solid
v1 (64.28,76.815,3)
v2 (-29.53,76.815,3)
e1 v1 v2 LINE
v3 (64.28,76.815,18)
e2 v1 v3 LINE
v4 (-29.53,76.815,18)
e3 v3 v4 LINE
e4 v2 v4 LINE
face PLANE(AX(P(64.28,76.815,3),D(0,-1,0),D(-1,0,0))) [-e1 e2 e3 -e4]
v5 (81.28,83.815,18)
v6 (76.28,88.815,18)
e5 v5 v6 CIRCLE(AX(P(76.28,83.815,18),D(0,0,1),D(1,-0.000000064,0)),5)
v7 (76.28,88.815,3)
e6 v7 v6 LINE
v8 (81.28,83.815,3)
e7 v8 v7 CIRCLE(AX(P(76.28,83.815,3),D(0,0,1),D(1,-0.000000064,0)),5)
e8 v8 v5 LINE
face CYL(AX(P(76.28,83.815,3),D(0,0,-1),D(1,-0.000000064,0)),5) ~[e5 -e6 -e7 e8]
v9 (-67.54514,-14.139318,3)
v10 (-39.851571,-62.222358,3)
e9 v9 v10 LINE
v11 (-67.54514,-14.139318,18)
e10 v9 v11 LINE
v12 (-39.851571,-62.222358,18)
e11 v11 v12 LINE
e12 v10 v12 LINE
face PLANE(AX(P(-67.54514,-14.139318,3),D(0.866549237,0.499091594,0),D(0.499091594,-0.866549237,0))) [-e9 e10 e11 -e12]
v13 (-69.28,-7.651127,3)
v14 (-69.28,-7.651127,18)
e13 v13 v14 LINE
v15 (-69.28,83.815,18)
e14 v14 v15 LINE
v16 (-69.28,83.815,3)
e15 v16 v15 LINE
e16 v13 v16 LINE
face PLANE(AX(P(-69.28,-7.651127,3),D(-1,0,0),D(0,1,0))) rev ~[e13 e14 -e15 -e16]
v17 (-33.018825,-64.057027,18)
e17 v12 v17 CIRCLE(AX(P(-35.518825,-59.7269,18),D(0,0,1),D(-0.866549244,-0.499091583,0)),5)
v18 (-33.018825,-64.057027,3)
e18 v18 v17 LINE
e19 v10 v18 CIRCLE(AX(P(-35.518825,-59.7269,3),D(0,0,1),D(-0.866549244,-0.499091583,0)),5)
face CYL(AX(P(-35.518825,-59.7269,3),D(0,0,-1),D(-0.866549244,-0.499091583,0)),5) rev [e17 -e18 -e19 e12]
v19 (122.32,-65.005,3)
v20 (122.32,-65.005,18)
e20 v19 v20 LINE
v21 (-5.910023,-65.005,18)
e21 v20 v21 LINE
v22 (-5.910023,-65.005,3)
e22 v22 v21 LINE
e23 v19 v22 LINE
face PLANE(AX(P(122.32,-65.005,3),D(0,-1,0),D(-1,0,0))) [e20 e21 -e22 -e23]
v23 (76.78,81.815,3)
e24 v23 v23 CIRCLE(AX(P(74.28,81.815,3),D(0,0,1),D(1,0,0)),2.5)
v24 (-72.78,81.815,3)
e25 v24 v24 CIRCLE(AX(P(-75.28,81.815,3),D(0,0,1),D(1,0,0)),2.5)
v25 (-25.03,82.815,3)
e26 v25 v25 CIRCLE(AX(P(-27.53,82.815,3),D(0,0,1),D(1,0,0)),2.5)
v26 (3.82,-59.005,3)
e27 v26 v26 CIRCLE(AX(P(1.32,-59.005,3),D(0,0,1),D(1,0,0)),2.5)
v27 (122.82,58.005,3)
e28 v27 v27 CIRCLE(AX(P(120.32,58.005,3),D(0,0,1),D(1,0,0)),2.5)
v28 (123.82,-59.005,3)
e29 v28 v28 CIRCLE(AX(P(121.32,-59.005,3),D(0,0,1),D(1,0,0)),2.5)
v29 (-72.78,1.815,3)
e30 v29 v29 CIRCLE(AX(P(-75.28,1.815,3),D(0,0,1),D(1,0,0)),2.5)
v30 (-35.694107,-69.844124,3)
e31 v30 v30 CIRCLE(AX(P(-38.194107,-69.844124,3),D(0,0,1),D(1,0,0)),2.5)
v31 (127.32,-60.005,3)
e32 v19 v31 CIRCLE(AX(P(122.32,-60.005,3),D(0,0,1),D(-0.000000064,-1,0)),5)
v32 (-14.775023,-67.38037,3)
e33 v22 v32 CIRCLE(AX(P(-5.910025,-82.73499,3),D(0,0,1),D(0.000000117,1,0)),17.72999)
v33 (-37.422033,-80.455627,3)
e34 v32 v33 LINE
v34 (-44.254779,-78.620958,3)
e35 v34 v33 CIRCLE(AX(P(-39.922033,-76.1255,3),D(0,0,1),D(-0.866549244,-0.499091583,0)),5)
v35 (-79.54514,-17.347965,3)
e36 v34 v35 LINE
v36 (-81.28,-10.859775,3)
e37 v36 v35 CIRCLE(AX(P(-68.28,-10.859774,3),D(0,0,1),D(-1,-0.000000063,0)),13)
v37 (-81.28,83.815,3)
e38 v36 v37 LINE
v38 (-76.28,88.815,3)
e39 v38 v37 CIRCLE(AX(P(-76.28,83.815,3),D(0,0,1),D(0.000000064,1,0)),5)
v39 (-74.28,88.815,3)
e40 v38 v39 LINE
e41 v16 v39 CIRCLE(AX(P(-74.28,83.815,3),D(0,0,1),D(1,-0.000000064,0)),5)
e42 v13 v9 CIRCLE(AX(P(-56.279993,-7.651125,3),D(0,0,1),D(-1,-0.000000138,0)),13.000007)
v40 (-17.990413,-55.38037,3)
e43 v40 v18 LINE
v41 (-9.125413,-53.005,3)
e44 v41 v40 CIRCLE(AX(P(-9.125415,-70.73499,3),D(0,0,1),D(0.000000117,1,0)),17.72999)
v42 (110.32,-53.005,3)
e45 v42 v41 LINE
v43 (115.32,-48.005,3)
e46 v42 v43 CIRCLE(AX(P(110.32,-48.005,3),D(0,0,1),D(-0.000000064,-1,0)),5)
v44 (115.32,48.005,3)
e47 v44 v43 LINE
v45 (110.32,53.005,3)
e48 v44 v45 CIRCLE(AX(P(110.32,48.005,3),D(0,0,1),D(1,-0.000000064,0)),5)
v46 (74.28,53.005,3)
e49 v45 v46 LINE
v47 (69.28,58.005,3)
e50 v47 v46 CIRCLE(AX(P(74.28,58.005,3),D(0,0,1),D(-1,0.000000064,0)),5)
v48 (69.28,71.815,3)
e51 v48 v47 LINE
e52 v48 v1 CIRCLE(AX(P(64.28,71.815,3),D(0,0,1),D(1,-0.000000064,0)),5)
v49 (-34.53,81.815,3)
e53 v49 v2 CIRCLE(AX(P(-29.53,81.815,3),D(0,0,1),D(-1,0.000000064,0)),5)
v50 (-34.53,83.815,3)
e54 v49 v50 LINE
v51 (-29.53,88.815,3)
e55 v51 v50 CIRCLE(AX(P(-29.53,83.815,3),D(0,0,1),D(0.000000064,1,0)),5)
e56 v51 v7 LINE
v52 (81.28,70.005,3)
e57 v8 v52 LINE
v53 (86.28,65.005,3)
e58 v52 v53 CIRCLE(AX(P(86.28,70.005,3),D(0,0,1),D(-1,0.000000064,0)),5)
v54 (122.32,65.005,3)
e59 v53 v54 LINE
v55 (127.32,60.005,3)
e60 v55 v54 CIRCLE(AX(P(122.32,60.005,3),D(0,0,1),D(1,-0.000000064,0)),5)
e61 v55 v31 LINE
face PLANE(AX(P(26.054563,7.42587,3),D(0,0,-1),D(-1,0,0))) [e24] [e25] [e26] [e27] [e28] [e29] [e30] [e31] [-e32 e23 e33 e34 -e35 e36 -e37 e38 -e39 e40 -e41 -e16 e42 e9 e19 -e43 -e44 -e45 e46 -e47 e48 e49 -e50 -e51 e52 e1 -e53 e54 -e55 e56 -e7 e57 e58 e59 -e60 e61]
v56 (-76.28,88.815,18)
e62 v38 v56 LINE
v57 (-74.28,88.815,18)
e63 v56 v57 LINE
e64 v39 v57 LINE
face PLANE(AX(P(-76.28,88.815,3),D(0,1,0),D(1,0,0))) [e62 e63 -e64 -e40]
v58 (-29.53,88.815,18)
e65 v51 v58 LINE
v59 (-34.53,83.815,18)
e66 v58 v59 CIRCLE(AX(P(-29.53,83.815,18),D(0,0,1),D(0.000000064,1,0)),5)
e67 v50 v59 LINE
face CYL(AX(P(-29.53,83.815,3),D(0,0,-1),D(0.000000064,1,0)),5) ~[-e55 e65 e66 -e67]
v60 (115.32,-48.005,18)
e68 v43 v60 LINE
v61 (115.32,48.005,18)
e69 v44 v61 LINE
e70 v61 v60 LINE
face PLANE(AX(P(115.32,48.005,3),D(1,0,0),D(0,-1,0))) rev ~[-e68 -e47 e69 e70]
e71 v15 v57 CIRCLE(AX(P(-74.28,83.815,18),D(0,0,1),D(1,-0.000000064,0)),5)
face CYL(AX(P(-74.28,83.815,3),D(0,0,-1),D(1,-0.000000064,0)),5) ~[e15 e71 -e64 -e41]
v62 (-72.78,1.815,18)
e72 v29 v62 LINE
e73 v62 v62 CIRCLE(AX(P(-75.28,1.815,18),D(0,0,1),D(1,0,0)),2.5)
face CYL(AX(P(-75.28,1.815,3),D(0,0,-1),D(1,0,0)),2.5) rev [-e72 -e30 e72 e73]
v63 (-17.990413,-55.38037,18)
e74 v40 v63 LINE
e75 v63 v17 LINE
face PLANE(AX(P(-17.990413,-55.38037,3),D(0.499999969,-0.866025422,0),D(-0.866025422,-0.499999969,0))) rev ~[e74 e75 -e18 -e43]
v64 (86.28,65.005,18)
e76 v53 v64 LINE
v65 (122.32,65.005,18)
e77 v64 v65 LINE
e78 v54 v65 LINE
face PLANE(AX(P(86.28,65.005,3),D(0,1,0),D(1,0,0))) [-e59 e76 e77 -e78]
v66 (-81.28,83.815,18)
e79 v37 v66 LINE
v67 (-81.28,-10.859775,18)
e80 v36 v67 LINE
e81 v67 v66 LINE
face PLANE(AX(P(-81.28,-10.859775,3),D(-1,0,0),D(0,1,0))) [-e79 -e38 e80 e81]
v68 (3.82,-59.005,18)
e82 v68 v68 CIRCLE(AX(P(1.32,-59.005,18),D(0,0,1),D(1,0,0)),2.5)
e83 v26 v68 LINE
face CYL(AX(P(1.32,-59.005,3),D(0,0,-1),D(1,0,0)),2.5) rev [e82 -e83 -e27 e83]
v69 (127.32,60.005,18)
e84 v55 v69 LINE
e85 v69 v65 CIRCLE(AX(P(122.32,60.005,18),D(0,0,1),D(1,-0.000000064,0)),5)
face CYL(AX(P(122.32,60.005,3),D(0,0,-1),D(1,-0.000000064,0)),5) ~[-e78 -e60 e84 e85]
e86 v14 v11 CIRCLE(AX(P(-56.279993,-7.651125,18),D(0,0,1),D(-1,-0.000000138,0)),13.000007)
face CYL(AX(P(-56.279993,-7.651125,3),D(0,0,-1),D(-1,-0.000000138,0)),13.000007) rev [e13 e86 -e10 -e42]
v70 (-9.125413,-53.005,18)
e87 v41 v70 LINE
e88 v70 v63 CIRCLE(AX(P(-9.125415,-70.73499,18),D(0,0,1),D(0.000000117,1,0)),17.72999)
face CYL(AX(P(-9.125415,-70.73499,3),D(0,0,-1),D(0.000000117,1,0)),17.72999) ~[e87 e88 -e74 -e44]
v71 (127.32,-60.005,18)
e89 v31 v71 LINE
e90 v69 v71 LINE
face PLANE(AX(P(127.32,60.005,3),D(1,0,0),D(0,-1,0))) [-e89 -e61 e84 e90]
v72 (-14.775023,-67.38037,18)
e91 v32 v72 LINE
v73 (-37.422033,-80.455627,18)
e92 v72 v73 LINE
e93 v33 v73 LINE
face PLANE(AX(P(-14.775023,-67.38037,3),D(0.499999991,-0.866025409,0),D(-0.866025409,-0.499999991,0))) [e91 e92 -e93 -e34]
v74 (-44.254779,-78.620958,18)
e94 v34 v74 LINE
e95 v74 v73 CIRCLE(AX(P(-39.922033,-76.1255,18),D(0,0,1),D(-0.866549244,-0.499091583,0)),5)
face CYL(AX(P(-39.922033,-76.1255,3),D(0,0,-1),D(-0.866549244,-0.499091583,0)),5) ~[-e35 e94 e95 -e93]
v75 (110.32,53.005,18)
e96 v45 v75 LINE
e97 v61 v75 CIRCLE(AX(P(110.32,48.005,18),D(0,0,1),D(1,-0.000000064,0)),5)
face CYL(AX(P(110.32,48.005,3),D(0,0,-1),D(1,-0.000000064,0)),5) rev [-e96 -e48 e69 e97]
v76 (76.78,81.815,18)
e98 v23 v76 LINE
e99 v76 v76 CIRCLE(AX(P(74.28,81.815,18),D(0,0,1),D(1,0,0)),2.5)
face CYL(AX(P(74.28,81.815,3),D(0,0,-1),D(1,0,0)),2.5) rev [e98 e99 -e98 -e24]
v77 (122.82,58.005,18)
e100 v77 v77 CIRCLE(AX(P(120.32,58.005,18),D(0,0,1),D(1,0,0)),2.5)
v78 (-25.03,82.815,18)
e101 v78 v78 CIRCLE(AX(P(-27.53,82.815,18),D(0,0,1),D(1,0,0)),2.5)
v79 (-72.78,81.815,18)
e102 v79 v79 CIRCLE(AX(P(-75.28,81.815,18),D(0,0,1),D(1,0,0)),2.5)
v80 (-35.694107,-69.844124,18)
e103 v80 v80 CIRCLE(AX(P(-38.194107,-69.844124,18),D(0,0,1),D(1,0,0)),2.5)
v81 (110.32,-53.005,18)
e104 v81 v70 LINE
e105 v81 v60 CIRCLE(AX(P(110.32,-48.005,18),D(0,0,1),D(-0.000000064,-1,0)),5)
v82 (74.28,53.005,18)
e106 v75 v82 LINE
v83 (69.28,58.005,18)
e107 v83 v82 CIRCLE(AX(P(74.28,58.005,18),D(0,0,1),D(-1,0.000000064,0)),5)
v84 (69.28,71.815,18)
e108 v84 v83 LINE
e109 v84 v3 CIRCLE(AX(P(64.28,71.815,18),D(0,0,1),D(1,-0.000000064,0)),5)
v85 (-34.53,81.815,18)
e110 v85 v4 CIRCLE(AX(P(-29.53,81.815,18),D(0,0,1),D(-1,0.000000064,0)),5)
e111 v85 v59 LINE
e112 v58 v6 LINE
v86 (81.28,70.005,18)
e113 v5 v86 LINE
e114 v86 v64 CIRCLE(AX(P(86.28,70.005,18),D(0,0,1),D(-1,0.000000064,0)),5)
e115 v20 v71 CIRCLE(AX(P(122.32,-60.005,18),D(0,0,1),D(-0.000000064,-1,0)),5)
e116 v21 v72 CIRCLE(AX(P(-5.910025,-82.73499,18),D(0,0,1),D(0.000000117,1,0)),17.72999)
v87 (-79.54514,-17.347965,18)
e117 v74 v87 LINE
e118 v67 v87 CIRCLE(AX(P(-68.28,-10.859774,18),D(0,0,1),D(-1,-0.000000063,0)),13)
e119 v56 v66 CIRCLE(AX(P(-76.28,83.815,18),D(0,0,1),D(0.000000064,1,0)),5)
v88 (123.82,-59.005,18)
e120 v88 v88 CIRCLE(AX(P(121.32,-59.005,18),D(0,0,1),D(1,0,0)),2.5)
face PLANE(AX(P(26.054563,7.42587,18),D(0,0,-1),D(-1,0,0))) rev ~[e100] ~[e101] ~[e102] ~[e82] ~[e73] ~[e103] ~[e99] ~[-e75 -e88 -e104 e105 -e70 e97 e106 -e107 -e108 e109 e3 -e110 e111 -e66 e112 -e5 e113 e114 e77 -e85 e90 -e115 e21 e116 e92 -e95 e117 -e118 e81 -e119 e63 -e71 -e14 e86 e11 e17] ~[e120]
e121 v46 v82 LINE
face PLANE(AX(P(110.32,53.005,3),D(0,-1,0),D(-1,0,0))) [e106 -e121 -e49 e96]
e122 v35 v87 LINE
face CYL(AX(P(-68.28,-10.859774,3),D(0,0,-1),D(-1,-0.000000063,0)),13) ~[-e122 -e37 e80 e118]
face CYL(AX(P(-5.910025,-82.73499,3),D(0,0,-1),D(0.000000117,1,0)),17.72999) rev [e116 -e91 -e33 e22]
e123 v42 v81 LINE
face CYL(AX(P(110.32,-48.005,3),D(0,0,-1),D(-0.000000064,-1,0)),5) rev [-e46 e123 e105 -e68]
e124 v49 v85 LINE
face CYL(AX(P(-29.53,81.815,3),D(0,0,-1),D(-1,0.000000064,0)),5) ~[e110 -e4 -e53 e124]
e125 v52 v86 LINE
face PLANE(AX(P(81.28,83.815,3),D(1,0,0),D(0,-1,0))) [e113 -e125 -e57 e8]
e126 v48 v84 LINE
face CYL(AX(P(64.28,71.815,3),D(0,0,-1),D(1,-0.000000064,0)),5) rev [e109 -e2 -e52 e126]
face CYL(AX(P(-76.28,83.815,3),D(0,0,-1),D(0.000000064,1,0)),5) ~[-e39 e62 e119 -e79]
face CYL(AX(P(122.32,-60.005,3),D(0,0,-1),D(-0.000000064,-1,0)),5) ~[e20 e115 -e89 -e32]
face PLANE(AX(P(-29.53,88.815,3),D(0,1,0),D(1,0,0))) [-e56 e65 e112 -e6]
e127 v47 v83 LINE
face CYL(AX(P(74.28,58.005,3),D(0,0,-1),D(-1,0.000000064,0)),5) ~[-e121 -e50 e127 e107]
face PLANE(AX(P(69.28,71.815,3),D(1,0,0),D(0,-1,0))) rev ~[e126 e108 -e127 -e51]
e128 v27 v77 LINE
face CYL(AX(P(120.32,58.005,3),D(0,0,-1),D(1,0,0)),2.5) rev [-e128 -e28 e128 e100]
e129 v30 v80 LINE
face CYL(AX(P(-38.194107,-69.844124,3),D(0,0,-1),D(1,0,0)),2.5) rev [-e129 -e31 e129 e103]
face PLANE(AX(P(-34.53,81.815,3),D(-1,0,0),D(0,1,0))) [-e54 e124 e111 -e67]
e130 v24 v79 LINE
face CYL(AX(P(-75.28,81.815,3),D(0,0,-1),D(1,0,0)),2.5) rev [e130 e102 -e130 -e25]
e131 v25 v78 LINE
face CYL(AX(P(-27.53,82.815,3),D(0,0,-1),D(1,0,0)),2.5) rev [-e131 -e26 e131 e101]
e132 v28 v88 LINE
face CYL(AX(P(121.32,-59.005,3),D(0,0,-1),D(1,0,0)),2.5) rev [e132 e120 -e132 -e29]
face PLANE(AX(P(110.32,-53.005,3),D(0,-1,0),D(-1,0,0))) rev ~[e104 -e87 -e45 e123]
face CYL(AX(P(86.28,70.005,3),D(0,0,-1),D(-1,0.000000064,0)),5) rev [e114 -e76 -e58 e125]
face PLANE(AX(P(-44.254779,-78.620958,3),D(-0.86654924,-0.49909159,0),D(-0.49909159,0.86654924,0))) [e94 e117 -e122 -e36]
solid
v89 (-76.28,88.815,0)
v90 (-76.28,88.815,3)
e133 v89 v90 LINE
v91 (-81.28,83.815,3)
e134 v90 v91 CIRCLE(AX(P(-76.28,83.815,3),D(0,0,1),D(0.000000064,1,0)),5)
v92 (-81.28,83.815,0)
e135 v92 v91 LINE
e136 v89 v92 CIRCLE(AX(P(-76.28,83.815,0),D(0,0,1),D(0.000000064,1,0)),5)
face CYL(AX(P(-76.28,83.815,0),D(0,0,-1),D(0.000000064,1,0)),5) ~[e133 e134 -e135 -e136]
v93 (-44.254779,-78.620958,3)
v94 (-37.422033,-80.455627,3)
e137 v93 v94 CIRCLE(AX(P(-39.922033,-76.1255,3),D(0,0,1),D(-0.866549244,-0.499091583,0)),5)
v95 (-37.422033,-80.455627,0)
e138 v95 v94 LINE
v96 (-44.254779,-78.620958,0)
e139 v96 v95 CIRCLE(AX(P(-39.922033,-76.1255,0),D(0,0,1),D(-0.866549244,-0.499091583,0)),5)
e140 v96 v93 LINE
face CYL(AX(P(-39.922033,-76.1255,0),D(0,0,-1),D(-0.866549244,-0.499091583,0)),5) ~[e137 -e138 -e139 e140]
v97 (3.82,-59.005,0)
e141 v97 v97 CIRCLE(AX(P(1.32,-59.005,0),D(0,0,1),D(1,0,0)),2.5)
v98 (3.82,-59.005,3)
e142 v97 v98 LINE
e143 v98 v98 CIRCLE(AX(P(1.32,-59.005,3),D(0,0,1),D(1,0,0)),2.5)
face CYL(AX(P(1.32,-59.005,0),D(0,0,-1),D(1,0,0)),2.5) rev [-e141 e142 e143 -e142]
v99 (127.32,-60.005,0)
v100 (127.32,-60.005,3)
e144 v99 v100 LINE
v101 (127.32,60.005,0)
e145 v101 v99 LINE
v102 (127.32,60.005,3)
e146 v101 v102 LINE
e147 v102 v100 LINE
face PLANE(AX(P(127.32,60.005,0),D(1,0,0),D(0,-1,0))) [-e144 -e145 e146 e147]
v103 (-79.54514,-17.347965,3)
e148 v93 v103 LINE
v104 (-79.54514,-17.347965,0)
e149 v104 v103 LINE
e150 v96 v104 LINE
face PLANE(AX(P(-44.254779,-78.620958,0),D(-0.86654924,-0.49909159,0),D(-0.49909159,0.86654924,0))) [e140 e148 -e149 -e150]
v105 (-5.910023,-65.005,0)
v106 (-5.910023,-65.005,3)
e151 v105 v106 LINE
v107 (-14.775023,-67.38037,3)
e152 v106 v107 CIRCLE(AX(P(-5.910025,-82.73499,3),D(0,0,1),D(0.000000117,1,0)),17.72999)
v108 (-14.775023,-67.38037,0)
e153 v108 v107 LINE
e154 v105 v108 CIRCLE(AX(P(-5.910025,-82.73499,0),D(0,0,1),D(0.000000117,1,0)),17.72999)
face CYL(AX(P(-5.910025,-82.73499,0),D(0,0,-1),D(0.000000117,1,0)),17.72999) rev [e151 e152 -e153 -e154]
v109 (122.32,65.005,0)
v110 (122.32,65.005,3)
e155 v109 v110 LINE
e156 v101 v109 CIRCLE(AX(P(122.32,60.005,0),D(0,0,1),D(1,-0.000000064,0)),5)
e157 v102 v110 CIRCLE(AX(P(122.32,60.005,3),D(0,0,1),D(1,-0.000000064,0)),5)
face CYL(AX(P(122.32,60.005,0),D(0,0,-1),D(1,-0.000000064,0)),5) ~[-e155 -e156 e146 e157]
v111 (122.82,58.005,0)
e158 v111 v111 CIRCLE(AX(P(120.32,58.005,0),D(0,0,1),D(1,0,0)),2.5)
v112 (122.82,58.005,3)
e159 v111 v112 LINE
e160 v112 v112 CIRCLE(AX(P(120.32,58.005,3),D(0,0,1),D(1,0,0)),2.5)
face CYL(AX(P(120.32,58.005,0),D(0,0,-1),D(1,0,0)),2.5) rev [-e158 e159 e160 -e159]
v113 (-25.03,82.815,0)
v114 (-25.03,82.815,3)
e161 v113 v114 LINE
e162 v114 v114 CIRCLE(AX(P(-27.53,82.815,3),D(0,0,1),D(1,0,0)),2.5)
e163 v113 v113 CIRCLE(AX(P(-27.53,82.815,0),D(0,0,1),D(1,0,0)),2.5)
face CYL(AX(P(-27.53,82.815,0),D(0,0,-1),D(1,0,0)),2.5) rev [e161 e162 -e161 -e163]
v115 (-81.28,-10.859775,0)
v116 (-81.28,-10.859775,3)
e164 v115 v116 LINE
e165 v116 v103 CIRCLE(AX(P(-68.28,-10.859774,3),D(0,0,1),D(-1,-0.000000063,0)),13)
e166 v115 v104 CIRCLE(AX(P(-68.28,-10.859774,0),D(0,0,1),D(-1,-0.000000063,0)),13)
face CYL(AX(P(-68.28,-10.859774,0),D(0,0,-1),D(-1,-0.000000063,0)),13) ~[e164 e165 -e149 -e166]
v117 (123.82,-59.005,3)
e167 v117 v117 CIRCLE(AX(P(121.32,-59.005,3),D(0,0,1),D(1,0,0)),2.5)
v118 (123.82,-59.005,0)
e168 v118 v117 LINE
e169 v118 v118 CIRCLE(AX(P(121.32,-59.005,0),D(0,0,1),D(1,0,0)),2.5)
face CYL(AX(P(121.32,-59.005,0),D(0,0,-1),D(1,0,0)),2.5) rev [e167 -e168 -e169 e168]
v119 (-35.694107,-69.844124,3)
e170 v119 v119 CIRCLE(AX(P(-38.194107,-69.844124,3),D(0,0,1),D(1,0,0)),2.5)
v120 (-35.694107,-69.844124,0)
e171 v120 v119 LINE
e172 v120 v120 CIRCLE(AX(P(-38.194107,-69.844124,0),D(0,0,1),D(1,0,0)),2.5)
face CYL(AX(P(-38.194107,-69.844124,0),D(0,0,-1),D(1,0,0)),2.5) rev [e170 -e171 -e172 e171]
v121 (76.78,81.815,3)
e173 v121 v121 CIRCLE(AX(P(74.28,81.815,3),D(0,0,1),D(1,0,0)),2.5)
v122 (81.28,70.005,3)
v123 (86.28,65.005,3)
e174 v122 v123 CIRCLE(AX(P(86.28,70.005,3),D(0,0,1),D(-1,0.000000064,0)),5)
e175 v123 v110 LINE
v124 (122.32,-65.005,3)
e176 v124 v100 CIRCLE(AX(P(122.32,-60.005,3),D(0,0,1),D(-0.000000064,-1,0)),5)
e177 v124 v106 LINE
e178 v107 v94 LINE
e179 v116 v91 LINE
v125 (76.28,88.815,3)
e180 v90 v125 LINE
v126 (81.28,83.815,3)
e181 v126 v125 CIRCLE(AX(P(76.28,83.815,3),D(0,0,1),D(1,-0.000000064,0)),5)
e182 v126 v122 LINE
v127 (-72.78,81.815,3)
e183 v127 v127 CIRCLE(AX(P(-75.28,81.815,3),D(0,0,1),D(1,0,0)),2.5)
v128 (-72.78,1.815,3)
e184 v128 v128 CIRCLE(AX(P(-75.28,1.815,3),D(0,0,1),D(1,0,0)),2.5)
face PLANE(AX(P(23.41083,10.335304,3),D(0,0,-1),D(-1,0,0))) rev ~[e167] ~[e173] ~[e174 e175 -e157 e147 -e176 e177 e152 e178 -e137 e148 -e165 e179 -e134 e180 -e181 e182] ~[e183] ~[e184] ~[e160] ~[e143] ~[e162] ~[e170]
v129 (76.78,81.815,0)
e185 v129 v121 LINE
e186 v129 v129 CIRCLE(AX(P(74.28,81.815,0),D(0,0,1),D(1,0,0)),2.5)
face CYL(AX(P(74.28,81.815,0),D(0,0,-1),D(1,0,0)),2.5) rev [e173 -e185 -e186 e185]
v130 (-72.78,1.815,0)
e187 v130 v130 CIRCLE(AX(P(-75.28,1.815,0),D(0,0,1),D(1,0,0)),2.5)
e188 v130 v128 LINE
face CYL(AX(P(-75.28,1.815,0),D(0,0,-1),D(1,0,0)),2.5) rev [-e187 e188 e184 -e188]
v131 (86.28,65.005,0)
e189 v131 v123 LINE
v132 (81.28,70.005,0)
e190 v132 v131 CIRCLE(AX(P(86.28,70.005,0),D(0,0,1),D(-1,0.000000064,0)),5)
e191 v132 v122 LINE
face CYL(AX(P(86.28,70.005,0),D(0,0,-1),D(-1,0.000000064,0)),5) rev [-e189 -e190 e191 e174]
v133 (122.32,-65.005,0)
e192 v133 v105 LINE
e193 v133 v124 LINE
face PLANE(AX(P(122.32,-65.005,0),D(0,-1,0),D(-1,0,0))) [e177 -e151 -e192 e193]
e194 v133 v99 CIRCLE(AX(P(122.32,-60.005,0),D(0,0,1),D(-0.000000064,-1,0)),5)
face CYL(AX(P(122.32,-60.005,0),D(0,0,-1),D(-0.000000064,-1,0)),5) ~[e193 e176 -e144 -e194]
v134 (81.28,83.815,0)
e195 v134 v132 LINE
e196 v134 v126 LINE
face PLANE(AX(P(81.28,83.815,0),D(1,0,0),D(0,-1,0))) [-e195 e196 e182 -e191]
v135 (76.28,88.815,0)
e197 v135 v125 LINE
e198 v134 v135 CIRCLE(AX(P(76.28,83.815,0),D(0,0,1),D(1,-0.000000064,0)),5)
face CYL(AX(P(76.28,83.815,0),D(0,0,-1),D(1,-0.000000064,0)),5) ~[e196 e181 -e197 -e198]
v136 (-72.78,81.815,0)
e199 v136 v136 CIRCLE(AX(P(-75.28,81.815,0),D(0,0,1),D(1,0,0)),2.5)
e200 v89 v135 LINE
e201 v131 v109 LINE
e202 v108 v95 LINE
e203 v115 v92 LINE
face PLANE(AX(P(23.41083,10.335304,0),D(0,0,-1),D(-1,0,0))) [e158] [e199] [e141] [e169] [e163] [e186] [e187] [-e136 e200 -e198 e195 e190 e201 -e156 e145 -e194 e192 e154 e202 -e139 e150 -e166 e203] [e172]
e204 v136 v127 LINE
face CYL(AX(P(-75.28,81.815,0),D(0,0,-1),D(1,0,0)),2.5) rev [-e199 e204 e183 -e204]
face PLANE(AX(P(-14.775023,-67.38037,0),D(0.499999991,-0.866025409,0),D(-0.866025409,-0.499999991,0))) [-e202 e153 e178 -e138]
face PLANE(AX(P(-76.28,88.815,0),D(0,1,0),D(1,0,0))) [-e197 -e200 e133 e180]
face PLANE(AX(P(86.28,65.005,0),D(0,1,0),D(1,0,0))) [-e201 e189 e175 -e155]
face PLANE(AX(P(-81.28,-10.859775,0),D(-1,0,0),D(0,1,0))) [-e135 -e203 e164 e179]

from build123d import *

# Parameters (mm, degrees)
MIRROREDSKETCH_R    = 2.5
EXTRUDE_DEPTH       = 3
MIRROREDSKETCH001_R = 2.5
EXTRUDE001_DEPTH    = 15


with BuildPart() as extrude_body:
    # MirroredSketch → Extrude (new body)
    with BuildSketch(Plane.XY):
        with BuildLine():
            Line((127.32, 60.005), (127.32, -60.005))
            ThreePointArc((122.32, -65.005), (125.855534, -63.540534), (127.32, -60.005))
            Line((122.32, -65.005), (-5.910023, -65.005))
            ThreePointArc((-5.910023, -65.005), (-10.498885, -65.609135), (-14.775023, -67.38037))
            Line((-14.775023, -67.38037), (-37.422033, -80.455627))
            ThreePointArc((-44.254779, -78.620958), (-41.21866, -80.95445), (-37.422033, -80.455627))
            Line((-44.254779, -78.620958), (-79.54514, -17.347965))
            ThreePointArc((-81.28, -10.859775), (-80.838798, -14.217838), (-79.54514, -17.347965))
            Line((-81.28, -10.859775), (-81.28, 83.815))
            ThreePointArc((-76.28, 88.815), (-79.815534, 87.350534), (-81.28, 83.815))
            Line((-76.28, 88.815), (76.28, 88.815))
            ThreePointArc((81.28, 83.815), (79.815534, 87.350534), (76.28, 88.815))
            Line((81.28, 83.815), (81.28, 70.005))
            ThreePointArc((81.28, 70.005), (82.744466, 66.469466), (86.28, 65.005))
            Line((86.28, 65.005), (122.32, 65.005))
            ThreePointArc((127.32, 60.005), (125.855534, 63.540534), (122.32, 65.005))
        make_face()
        with Locations((120.32, 58.005)):
            Circle(MIRROREDSKETCH_R, mode=Mode.SUBTRACT)
        with Locations((121.32, -59.005)):
            Circle(MIRROREDSKETCH_R, mode=Mode.SUBTRACT)
        with Locations((1.32, -59.005)):
            Circle(MIRROREDSKETCH_R, mode=Mode.SUBTRACT)
        with Locations((-38.194107, -69.844124)):
            Circle(MIRROREDSKETCH_R, mode=Mode.SUBTRACT)
        with Locations((-75.28, 1.815)):
            Circle(MIRROREDSKETCH_R, mode=Mode.SUBTRACT)
        with Locations((-75.28, 81.815)):
            Circle(MIRROREDSKETCH_R, mode=Mode.SUBTRACT)
        with Locations((-27.53, 82.815)):
            Circle(MIRROREDSKETCH_R, mode=Mode.SUBTRACT)
        with Locations((74.28, 81.815)):
            Circle(MIRROREDSKETCH_R, mode=Mode.SUBTRACT)
    extrude(amount=EXTRUDE_DEPTH)


with BuildPart() as extrude001:
    # MirroredSketch001 → Extrude001 (new body)
    with BuildSketch(Plane.XY.offset(3)):
        with BuildLine():
            Line((-69.28, 71.815), (-69.28, -7.651127))
            ThreePointArc((-69.28, -7.651127), (-68.838798, -11.00919), (-67.54514, -14.139318))
            Line((-67.54514, -14.139318), (-39.851571, -62.222358))
            ThreePointArc((-39.851571, -62.222358), (-36.815452, -64.55585), (-33.018825, -64.057027))
            Line((-17.990413, -55.38037), (-33.018825, -64.057027))
            ThreePointArc((-9.125413, -53.005), (-13.714275, -53.609135), (-17.990413, -55.38037))
            Line((110.32, -53.005), (-9.125413, -53.005))
            ThreePointArc((110.32, -53.005), (113.855534, -51.540534), (115.32, -48.005))
            Line((115.32, 48.005), (115.32, -48.005))
            ThreePointArc((115.32, 48.005), (113.855534, 51.540534), (110.32, 53.005))
            Line((110.32, 53.005), (74.28, 53.005))
            ThreePointArc((69.28, 58.005), (70.744466, 54.469466), (74.28, 53.005))
            Line((69.28, 71.815), (69.28, 58.005))
            ThreePointArc((69.28, 71.815), (67.815534, 75.350534), (64.28, 76.815))
            Line((64.28, 76.815), (-29.53, 76.815))
            ThreePointArc((-34.53, 81.815), (-33.065534, 78.279466), (-29.53, 76.815))
            Line((-34.53, 81.815), (-34.53, 83.815))
            ThreePointArc((-29.53, 88.815), (-33.065534, 87.350534), (-34.53, 83.815))
            Line((-29.53, 88.815), (76.28, 88.815))
            ThreePointArc((81.28, 83.815), (79.815534, 87.350534), (76.28, 88.815))
            Line((81.28, 83.815), (81.28, 70.005))
            ThreePointArc((81.28, 70.005), (82.744466, 66.469466), (86.28, 65.005))
            Line((86.28, 65.005), (122.32, 65.005))
            ThreePointArc((127.32, 60.005), (125.855534, 63.540534), (122.32, 65.005))
            Line((127.32, 60.005), (127.32, -60.005))
            ThreePointArc((122.32, -65.005), (125.855534, -63.540534), (127.32, -60.005))
            Line((122.32, -65.005), (-5.910023, -65.005))
            ThreePointArc((-5.910023, -65.005), (-10.498885, -65.609135), (-14.775023, -67.38037))
            Line((-14.775023, -67.38037), (-37.422033, -80.455627))
            ThreePointArc((-44.254779, -78.620958), (-41.21866, -80.95445), (-37.422033, -80.455627))
            Line((-44.254779, -78.620958), (-79.54514, -17.347965))
            ThreePointArc((-81.28, -10.859775), (-80.838798, -14.217838), (-79.54514, -17.347965))
            Line((-81.28, -10.859775), (-81.28, 83.815))
            ThreePointArc((-76.28, 88.815), (-79.815534, 87.350534), (-81.28, 83.815))
            Line((-76.28, 88.815), (-74.28, 88.815))
            ThreePointArc((-69.28, 83.815), (-70.744466, 87.350534), (-74.28, 88.815))
            Line((-69.28, 71.815), (-69.28, 83.815))
        make_face()
        with Locations((120.32, 58.005)):
            Circle(MIRROREDSKETCH001_R, mode=Mode.SUBTRACT)
        with Locations((121.32, -59.005)):
            Circle(MIRROREDSKETCH001_R, mode=Mode.SUBTRACT)
        with Locations((1.32, -59.005)):
            Circle(MIRROREDSKETCH001_R, mode=Mode.SUBTRACT)
        with Locations((-38.194107, -69.844124)):
            Circle(MIRROREDSKETCH001_R, mode=Mode.SUBTRACT)
        with Locations((-75.28, 1.815)):
            Circle(MIRROREDSKETCH001_R, mode=Mode.SUBTRACT)
        with Locations((-75.28, 81.815)):
            Circle(MIRROREDSKETCH001_R, mode=Mode.SUBTRACT)
        with Locations((-27.53, 82.815)):
            Circle(MIRROREDSKETCH001_R, mode=Mode.SUBTRACT)
        with Locations((74.28, 81.815)):
            Circle(MIRROREDSKETCH001_R, mode=Mode.SUBTRACT)
    extrude(amount=EXTRUDE001_DEPTH)


solid = Compound([extrude_body.part, extrude001.part])
